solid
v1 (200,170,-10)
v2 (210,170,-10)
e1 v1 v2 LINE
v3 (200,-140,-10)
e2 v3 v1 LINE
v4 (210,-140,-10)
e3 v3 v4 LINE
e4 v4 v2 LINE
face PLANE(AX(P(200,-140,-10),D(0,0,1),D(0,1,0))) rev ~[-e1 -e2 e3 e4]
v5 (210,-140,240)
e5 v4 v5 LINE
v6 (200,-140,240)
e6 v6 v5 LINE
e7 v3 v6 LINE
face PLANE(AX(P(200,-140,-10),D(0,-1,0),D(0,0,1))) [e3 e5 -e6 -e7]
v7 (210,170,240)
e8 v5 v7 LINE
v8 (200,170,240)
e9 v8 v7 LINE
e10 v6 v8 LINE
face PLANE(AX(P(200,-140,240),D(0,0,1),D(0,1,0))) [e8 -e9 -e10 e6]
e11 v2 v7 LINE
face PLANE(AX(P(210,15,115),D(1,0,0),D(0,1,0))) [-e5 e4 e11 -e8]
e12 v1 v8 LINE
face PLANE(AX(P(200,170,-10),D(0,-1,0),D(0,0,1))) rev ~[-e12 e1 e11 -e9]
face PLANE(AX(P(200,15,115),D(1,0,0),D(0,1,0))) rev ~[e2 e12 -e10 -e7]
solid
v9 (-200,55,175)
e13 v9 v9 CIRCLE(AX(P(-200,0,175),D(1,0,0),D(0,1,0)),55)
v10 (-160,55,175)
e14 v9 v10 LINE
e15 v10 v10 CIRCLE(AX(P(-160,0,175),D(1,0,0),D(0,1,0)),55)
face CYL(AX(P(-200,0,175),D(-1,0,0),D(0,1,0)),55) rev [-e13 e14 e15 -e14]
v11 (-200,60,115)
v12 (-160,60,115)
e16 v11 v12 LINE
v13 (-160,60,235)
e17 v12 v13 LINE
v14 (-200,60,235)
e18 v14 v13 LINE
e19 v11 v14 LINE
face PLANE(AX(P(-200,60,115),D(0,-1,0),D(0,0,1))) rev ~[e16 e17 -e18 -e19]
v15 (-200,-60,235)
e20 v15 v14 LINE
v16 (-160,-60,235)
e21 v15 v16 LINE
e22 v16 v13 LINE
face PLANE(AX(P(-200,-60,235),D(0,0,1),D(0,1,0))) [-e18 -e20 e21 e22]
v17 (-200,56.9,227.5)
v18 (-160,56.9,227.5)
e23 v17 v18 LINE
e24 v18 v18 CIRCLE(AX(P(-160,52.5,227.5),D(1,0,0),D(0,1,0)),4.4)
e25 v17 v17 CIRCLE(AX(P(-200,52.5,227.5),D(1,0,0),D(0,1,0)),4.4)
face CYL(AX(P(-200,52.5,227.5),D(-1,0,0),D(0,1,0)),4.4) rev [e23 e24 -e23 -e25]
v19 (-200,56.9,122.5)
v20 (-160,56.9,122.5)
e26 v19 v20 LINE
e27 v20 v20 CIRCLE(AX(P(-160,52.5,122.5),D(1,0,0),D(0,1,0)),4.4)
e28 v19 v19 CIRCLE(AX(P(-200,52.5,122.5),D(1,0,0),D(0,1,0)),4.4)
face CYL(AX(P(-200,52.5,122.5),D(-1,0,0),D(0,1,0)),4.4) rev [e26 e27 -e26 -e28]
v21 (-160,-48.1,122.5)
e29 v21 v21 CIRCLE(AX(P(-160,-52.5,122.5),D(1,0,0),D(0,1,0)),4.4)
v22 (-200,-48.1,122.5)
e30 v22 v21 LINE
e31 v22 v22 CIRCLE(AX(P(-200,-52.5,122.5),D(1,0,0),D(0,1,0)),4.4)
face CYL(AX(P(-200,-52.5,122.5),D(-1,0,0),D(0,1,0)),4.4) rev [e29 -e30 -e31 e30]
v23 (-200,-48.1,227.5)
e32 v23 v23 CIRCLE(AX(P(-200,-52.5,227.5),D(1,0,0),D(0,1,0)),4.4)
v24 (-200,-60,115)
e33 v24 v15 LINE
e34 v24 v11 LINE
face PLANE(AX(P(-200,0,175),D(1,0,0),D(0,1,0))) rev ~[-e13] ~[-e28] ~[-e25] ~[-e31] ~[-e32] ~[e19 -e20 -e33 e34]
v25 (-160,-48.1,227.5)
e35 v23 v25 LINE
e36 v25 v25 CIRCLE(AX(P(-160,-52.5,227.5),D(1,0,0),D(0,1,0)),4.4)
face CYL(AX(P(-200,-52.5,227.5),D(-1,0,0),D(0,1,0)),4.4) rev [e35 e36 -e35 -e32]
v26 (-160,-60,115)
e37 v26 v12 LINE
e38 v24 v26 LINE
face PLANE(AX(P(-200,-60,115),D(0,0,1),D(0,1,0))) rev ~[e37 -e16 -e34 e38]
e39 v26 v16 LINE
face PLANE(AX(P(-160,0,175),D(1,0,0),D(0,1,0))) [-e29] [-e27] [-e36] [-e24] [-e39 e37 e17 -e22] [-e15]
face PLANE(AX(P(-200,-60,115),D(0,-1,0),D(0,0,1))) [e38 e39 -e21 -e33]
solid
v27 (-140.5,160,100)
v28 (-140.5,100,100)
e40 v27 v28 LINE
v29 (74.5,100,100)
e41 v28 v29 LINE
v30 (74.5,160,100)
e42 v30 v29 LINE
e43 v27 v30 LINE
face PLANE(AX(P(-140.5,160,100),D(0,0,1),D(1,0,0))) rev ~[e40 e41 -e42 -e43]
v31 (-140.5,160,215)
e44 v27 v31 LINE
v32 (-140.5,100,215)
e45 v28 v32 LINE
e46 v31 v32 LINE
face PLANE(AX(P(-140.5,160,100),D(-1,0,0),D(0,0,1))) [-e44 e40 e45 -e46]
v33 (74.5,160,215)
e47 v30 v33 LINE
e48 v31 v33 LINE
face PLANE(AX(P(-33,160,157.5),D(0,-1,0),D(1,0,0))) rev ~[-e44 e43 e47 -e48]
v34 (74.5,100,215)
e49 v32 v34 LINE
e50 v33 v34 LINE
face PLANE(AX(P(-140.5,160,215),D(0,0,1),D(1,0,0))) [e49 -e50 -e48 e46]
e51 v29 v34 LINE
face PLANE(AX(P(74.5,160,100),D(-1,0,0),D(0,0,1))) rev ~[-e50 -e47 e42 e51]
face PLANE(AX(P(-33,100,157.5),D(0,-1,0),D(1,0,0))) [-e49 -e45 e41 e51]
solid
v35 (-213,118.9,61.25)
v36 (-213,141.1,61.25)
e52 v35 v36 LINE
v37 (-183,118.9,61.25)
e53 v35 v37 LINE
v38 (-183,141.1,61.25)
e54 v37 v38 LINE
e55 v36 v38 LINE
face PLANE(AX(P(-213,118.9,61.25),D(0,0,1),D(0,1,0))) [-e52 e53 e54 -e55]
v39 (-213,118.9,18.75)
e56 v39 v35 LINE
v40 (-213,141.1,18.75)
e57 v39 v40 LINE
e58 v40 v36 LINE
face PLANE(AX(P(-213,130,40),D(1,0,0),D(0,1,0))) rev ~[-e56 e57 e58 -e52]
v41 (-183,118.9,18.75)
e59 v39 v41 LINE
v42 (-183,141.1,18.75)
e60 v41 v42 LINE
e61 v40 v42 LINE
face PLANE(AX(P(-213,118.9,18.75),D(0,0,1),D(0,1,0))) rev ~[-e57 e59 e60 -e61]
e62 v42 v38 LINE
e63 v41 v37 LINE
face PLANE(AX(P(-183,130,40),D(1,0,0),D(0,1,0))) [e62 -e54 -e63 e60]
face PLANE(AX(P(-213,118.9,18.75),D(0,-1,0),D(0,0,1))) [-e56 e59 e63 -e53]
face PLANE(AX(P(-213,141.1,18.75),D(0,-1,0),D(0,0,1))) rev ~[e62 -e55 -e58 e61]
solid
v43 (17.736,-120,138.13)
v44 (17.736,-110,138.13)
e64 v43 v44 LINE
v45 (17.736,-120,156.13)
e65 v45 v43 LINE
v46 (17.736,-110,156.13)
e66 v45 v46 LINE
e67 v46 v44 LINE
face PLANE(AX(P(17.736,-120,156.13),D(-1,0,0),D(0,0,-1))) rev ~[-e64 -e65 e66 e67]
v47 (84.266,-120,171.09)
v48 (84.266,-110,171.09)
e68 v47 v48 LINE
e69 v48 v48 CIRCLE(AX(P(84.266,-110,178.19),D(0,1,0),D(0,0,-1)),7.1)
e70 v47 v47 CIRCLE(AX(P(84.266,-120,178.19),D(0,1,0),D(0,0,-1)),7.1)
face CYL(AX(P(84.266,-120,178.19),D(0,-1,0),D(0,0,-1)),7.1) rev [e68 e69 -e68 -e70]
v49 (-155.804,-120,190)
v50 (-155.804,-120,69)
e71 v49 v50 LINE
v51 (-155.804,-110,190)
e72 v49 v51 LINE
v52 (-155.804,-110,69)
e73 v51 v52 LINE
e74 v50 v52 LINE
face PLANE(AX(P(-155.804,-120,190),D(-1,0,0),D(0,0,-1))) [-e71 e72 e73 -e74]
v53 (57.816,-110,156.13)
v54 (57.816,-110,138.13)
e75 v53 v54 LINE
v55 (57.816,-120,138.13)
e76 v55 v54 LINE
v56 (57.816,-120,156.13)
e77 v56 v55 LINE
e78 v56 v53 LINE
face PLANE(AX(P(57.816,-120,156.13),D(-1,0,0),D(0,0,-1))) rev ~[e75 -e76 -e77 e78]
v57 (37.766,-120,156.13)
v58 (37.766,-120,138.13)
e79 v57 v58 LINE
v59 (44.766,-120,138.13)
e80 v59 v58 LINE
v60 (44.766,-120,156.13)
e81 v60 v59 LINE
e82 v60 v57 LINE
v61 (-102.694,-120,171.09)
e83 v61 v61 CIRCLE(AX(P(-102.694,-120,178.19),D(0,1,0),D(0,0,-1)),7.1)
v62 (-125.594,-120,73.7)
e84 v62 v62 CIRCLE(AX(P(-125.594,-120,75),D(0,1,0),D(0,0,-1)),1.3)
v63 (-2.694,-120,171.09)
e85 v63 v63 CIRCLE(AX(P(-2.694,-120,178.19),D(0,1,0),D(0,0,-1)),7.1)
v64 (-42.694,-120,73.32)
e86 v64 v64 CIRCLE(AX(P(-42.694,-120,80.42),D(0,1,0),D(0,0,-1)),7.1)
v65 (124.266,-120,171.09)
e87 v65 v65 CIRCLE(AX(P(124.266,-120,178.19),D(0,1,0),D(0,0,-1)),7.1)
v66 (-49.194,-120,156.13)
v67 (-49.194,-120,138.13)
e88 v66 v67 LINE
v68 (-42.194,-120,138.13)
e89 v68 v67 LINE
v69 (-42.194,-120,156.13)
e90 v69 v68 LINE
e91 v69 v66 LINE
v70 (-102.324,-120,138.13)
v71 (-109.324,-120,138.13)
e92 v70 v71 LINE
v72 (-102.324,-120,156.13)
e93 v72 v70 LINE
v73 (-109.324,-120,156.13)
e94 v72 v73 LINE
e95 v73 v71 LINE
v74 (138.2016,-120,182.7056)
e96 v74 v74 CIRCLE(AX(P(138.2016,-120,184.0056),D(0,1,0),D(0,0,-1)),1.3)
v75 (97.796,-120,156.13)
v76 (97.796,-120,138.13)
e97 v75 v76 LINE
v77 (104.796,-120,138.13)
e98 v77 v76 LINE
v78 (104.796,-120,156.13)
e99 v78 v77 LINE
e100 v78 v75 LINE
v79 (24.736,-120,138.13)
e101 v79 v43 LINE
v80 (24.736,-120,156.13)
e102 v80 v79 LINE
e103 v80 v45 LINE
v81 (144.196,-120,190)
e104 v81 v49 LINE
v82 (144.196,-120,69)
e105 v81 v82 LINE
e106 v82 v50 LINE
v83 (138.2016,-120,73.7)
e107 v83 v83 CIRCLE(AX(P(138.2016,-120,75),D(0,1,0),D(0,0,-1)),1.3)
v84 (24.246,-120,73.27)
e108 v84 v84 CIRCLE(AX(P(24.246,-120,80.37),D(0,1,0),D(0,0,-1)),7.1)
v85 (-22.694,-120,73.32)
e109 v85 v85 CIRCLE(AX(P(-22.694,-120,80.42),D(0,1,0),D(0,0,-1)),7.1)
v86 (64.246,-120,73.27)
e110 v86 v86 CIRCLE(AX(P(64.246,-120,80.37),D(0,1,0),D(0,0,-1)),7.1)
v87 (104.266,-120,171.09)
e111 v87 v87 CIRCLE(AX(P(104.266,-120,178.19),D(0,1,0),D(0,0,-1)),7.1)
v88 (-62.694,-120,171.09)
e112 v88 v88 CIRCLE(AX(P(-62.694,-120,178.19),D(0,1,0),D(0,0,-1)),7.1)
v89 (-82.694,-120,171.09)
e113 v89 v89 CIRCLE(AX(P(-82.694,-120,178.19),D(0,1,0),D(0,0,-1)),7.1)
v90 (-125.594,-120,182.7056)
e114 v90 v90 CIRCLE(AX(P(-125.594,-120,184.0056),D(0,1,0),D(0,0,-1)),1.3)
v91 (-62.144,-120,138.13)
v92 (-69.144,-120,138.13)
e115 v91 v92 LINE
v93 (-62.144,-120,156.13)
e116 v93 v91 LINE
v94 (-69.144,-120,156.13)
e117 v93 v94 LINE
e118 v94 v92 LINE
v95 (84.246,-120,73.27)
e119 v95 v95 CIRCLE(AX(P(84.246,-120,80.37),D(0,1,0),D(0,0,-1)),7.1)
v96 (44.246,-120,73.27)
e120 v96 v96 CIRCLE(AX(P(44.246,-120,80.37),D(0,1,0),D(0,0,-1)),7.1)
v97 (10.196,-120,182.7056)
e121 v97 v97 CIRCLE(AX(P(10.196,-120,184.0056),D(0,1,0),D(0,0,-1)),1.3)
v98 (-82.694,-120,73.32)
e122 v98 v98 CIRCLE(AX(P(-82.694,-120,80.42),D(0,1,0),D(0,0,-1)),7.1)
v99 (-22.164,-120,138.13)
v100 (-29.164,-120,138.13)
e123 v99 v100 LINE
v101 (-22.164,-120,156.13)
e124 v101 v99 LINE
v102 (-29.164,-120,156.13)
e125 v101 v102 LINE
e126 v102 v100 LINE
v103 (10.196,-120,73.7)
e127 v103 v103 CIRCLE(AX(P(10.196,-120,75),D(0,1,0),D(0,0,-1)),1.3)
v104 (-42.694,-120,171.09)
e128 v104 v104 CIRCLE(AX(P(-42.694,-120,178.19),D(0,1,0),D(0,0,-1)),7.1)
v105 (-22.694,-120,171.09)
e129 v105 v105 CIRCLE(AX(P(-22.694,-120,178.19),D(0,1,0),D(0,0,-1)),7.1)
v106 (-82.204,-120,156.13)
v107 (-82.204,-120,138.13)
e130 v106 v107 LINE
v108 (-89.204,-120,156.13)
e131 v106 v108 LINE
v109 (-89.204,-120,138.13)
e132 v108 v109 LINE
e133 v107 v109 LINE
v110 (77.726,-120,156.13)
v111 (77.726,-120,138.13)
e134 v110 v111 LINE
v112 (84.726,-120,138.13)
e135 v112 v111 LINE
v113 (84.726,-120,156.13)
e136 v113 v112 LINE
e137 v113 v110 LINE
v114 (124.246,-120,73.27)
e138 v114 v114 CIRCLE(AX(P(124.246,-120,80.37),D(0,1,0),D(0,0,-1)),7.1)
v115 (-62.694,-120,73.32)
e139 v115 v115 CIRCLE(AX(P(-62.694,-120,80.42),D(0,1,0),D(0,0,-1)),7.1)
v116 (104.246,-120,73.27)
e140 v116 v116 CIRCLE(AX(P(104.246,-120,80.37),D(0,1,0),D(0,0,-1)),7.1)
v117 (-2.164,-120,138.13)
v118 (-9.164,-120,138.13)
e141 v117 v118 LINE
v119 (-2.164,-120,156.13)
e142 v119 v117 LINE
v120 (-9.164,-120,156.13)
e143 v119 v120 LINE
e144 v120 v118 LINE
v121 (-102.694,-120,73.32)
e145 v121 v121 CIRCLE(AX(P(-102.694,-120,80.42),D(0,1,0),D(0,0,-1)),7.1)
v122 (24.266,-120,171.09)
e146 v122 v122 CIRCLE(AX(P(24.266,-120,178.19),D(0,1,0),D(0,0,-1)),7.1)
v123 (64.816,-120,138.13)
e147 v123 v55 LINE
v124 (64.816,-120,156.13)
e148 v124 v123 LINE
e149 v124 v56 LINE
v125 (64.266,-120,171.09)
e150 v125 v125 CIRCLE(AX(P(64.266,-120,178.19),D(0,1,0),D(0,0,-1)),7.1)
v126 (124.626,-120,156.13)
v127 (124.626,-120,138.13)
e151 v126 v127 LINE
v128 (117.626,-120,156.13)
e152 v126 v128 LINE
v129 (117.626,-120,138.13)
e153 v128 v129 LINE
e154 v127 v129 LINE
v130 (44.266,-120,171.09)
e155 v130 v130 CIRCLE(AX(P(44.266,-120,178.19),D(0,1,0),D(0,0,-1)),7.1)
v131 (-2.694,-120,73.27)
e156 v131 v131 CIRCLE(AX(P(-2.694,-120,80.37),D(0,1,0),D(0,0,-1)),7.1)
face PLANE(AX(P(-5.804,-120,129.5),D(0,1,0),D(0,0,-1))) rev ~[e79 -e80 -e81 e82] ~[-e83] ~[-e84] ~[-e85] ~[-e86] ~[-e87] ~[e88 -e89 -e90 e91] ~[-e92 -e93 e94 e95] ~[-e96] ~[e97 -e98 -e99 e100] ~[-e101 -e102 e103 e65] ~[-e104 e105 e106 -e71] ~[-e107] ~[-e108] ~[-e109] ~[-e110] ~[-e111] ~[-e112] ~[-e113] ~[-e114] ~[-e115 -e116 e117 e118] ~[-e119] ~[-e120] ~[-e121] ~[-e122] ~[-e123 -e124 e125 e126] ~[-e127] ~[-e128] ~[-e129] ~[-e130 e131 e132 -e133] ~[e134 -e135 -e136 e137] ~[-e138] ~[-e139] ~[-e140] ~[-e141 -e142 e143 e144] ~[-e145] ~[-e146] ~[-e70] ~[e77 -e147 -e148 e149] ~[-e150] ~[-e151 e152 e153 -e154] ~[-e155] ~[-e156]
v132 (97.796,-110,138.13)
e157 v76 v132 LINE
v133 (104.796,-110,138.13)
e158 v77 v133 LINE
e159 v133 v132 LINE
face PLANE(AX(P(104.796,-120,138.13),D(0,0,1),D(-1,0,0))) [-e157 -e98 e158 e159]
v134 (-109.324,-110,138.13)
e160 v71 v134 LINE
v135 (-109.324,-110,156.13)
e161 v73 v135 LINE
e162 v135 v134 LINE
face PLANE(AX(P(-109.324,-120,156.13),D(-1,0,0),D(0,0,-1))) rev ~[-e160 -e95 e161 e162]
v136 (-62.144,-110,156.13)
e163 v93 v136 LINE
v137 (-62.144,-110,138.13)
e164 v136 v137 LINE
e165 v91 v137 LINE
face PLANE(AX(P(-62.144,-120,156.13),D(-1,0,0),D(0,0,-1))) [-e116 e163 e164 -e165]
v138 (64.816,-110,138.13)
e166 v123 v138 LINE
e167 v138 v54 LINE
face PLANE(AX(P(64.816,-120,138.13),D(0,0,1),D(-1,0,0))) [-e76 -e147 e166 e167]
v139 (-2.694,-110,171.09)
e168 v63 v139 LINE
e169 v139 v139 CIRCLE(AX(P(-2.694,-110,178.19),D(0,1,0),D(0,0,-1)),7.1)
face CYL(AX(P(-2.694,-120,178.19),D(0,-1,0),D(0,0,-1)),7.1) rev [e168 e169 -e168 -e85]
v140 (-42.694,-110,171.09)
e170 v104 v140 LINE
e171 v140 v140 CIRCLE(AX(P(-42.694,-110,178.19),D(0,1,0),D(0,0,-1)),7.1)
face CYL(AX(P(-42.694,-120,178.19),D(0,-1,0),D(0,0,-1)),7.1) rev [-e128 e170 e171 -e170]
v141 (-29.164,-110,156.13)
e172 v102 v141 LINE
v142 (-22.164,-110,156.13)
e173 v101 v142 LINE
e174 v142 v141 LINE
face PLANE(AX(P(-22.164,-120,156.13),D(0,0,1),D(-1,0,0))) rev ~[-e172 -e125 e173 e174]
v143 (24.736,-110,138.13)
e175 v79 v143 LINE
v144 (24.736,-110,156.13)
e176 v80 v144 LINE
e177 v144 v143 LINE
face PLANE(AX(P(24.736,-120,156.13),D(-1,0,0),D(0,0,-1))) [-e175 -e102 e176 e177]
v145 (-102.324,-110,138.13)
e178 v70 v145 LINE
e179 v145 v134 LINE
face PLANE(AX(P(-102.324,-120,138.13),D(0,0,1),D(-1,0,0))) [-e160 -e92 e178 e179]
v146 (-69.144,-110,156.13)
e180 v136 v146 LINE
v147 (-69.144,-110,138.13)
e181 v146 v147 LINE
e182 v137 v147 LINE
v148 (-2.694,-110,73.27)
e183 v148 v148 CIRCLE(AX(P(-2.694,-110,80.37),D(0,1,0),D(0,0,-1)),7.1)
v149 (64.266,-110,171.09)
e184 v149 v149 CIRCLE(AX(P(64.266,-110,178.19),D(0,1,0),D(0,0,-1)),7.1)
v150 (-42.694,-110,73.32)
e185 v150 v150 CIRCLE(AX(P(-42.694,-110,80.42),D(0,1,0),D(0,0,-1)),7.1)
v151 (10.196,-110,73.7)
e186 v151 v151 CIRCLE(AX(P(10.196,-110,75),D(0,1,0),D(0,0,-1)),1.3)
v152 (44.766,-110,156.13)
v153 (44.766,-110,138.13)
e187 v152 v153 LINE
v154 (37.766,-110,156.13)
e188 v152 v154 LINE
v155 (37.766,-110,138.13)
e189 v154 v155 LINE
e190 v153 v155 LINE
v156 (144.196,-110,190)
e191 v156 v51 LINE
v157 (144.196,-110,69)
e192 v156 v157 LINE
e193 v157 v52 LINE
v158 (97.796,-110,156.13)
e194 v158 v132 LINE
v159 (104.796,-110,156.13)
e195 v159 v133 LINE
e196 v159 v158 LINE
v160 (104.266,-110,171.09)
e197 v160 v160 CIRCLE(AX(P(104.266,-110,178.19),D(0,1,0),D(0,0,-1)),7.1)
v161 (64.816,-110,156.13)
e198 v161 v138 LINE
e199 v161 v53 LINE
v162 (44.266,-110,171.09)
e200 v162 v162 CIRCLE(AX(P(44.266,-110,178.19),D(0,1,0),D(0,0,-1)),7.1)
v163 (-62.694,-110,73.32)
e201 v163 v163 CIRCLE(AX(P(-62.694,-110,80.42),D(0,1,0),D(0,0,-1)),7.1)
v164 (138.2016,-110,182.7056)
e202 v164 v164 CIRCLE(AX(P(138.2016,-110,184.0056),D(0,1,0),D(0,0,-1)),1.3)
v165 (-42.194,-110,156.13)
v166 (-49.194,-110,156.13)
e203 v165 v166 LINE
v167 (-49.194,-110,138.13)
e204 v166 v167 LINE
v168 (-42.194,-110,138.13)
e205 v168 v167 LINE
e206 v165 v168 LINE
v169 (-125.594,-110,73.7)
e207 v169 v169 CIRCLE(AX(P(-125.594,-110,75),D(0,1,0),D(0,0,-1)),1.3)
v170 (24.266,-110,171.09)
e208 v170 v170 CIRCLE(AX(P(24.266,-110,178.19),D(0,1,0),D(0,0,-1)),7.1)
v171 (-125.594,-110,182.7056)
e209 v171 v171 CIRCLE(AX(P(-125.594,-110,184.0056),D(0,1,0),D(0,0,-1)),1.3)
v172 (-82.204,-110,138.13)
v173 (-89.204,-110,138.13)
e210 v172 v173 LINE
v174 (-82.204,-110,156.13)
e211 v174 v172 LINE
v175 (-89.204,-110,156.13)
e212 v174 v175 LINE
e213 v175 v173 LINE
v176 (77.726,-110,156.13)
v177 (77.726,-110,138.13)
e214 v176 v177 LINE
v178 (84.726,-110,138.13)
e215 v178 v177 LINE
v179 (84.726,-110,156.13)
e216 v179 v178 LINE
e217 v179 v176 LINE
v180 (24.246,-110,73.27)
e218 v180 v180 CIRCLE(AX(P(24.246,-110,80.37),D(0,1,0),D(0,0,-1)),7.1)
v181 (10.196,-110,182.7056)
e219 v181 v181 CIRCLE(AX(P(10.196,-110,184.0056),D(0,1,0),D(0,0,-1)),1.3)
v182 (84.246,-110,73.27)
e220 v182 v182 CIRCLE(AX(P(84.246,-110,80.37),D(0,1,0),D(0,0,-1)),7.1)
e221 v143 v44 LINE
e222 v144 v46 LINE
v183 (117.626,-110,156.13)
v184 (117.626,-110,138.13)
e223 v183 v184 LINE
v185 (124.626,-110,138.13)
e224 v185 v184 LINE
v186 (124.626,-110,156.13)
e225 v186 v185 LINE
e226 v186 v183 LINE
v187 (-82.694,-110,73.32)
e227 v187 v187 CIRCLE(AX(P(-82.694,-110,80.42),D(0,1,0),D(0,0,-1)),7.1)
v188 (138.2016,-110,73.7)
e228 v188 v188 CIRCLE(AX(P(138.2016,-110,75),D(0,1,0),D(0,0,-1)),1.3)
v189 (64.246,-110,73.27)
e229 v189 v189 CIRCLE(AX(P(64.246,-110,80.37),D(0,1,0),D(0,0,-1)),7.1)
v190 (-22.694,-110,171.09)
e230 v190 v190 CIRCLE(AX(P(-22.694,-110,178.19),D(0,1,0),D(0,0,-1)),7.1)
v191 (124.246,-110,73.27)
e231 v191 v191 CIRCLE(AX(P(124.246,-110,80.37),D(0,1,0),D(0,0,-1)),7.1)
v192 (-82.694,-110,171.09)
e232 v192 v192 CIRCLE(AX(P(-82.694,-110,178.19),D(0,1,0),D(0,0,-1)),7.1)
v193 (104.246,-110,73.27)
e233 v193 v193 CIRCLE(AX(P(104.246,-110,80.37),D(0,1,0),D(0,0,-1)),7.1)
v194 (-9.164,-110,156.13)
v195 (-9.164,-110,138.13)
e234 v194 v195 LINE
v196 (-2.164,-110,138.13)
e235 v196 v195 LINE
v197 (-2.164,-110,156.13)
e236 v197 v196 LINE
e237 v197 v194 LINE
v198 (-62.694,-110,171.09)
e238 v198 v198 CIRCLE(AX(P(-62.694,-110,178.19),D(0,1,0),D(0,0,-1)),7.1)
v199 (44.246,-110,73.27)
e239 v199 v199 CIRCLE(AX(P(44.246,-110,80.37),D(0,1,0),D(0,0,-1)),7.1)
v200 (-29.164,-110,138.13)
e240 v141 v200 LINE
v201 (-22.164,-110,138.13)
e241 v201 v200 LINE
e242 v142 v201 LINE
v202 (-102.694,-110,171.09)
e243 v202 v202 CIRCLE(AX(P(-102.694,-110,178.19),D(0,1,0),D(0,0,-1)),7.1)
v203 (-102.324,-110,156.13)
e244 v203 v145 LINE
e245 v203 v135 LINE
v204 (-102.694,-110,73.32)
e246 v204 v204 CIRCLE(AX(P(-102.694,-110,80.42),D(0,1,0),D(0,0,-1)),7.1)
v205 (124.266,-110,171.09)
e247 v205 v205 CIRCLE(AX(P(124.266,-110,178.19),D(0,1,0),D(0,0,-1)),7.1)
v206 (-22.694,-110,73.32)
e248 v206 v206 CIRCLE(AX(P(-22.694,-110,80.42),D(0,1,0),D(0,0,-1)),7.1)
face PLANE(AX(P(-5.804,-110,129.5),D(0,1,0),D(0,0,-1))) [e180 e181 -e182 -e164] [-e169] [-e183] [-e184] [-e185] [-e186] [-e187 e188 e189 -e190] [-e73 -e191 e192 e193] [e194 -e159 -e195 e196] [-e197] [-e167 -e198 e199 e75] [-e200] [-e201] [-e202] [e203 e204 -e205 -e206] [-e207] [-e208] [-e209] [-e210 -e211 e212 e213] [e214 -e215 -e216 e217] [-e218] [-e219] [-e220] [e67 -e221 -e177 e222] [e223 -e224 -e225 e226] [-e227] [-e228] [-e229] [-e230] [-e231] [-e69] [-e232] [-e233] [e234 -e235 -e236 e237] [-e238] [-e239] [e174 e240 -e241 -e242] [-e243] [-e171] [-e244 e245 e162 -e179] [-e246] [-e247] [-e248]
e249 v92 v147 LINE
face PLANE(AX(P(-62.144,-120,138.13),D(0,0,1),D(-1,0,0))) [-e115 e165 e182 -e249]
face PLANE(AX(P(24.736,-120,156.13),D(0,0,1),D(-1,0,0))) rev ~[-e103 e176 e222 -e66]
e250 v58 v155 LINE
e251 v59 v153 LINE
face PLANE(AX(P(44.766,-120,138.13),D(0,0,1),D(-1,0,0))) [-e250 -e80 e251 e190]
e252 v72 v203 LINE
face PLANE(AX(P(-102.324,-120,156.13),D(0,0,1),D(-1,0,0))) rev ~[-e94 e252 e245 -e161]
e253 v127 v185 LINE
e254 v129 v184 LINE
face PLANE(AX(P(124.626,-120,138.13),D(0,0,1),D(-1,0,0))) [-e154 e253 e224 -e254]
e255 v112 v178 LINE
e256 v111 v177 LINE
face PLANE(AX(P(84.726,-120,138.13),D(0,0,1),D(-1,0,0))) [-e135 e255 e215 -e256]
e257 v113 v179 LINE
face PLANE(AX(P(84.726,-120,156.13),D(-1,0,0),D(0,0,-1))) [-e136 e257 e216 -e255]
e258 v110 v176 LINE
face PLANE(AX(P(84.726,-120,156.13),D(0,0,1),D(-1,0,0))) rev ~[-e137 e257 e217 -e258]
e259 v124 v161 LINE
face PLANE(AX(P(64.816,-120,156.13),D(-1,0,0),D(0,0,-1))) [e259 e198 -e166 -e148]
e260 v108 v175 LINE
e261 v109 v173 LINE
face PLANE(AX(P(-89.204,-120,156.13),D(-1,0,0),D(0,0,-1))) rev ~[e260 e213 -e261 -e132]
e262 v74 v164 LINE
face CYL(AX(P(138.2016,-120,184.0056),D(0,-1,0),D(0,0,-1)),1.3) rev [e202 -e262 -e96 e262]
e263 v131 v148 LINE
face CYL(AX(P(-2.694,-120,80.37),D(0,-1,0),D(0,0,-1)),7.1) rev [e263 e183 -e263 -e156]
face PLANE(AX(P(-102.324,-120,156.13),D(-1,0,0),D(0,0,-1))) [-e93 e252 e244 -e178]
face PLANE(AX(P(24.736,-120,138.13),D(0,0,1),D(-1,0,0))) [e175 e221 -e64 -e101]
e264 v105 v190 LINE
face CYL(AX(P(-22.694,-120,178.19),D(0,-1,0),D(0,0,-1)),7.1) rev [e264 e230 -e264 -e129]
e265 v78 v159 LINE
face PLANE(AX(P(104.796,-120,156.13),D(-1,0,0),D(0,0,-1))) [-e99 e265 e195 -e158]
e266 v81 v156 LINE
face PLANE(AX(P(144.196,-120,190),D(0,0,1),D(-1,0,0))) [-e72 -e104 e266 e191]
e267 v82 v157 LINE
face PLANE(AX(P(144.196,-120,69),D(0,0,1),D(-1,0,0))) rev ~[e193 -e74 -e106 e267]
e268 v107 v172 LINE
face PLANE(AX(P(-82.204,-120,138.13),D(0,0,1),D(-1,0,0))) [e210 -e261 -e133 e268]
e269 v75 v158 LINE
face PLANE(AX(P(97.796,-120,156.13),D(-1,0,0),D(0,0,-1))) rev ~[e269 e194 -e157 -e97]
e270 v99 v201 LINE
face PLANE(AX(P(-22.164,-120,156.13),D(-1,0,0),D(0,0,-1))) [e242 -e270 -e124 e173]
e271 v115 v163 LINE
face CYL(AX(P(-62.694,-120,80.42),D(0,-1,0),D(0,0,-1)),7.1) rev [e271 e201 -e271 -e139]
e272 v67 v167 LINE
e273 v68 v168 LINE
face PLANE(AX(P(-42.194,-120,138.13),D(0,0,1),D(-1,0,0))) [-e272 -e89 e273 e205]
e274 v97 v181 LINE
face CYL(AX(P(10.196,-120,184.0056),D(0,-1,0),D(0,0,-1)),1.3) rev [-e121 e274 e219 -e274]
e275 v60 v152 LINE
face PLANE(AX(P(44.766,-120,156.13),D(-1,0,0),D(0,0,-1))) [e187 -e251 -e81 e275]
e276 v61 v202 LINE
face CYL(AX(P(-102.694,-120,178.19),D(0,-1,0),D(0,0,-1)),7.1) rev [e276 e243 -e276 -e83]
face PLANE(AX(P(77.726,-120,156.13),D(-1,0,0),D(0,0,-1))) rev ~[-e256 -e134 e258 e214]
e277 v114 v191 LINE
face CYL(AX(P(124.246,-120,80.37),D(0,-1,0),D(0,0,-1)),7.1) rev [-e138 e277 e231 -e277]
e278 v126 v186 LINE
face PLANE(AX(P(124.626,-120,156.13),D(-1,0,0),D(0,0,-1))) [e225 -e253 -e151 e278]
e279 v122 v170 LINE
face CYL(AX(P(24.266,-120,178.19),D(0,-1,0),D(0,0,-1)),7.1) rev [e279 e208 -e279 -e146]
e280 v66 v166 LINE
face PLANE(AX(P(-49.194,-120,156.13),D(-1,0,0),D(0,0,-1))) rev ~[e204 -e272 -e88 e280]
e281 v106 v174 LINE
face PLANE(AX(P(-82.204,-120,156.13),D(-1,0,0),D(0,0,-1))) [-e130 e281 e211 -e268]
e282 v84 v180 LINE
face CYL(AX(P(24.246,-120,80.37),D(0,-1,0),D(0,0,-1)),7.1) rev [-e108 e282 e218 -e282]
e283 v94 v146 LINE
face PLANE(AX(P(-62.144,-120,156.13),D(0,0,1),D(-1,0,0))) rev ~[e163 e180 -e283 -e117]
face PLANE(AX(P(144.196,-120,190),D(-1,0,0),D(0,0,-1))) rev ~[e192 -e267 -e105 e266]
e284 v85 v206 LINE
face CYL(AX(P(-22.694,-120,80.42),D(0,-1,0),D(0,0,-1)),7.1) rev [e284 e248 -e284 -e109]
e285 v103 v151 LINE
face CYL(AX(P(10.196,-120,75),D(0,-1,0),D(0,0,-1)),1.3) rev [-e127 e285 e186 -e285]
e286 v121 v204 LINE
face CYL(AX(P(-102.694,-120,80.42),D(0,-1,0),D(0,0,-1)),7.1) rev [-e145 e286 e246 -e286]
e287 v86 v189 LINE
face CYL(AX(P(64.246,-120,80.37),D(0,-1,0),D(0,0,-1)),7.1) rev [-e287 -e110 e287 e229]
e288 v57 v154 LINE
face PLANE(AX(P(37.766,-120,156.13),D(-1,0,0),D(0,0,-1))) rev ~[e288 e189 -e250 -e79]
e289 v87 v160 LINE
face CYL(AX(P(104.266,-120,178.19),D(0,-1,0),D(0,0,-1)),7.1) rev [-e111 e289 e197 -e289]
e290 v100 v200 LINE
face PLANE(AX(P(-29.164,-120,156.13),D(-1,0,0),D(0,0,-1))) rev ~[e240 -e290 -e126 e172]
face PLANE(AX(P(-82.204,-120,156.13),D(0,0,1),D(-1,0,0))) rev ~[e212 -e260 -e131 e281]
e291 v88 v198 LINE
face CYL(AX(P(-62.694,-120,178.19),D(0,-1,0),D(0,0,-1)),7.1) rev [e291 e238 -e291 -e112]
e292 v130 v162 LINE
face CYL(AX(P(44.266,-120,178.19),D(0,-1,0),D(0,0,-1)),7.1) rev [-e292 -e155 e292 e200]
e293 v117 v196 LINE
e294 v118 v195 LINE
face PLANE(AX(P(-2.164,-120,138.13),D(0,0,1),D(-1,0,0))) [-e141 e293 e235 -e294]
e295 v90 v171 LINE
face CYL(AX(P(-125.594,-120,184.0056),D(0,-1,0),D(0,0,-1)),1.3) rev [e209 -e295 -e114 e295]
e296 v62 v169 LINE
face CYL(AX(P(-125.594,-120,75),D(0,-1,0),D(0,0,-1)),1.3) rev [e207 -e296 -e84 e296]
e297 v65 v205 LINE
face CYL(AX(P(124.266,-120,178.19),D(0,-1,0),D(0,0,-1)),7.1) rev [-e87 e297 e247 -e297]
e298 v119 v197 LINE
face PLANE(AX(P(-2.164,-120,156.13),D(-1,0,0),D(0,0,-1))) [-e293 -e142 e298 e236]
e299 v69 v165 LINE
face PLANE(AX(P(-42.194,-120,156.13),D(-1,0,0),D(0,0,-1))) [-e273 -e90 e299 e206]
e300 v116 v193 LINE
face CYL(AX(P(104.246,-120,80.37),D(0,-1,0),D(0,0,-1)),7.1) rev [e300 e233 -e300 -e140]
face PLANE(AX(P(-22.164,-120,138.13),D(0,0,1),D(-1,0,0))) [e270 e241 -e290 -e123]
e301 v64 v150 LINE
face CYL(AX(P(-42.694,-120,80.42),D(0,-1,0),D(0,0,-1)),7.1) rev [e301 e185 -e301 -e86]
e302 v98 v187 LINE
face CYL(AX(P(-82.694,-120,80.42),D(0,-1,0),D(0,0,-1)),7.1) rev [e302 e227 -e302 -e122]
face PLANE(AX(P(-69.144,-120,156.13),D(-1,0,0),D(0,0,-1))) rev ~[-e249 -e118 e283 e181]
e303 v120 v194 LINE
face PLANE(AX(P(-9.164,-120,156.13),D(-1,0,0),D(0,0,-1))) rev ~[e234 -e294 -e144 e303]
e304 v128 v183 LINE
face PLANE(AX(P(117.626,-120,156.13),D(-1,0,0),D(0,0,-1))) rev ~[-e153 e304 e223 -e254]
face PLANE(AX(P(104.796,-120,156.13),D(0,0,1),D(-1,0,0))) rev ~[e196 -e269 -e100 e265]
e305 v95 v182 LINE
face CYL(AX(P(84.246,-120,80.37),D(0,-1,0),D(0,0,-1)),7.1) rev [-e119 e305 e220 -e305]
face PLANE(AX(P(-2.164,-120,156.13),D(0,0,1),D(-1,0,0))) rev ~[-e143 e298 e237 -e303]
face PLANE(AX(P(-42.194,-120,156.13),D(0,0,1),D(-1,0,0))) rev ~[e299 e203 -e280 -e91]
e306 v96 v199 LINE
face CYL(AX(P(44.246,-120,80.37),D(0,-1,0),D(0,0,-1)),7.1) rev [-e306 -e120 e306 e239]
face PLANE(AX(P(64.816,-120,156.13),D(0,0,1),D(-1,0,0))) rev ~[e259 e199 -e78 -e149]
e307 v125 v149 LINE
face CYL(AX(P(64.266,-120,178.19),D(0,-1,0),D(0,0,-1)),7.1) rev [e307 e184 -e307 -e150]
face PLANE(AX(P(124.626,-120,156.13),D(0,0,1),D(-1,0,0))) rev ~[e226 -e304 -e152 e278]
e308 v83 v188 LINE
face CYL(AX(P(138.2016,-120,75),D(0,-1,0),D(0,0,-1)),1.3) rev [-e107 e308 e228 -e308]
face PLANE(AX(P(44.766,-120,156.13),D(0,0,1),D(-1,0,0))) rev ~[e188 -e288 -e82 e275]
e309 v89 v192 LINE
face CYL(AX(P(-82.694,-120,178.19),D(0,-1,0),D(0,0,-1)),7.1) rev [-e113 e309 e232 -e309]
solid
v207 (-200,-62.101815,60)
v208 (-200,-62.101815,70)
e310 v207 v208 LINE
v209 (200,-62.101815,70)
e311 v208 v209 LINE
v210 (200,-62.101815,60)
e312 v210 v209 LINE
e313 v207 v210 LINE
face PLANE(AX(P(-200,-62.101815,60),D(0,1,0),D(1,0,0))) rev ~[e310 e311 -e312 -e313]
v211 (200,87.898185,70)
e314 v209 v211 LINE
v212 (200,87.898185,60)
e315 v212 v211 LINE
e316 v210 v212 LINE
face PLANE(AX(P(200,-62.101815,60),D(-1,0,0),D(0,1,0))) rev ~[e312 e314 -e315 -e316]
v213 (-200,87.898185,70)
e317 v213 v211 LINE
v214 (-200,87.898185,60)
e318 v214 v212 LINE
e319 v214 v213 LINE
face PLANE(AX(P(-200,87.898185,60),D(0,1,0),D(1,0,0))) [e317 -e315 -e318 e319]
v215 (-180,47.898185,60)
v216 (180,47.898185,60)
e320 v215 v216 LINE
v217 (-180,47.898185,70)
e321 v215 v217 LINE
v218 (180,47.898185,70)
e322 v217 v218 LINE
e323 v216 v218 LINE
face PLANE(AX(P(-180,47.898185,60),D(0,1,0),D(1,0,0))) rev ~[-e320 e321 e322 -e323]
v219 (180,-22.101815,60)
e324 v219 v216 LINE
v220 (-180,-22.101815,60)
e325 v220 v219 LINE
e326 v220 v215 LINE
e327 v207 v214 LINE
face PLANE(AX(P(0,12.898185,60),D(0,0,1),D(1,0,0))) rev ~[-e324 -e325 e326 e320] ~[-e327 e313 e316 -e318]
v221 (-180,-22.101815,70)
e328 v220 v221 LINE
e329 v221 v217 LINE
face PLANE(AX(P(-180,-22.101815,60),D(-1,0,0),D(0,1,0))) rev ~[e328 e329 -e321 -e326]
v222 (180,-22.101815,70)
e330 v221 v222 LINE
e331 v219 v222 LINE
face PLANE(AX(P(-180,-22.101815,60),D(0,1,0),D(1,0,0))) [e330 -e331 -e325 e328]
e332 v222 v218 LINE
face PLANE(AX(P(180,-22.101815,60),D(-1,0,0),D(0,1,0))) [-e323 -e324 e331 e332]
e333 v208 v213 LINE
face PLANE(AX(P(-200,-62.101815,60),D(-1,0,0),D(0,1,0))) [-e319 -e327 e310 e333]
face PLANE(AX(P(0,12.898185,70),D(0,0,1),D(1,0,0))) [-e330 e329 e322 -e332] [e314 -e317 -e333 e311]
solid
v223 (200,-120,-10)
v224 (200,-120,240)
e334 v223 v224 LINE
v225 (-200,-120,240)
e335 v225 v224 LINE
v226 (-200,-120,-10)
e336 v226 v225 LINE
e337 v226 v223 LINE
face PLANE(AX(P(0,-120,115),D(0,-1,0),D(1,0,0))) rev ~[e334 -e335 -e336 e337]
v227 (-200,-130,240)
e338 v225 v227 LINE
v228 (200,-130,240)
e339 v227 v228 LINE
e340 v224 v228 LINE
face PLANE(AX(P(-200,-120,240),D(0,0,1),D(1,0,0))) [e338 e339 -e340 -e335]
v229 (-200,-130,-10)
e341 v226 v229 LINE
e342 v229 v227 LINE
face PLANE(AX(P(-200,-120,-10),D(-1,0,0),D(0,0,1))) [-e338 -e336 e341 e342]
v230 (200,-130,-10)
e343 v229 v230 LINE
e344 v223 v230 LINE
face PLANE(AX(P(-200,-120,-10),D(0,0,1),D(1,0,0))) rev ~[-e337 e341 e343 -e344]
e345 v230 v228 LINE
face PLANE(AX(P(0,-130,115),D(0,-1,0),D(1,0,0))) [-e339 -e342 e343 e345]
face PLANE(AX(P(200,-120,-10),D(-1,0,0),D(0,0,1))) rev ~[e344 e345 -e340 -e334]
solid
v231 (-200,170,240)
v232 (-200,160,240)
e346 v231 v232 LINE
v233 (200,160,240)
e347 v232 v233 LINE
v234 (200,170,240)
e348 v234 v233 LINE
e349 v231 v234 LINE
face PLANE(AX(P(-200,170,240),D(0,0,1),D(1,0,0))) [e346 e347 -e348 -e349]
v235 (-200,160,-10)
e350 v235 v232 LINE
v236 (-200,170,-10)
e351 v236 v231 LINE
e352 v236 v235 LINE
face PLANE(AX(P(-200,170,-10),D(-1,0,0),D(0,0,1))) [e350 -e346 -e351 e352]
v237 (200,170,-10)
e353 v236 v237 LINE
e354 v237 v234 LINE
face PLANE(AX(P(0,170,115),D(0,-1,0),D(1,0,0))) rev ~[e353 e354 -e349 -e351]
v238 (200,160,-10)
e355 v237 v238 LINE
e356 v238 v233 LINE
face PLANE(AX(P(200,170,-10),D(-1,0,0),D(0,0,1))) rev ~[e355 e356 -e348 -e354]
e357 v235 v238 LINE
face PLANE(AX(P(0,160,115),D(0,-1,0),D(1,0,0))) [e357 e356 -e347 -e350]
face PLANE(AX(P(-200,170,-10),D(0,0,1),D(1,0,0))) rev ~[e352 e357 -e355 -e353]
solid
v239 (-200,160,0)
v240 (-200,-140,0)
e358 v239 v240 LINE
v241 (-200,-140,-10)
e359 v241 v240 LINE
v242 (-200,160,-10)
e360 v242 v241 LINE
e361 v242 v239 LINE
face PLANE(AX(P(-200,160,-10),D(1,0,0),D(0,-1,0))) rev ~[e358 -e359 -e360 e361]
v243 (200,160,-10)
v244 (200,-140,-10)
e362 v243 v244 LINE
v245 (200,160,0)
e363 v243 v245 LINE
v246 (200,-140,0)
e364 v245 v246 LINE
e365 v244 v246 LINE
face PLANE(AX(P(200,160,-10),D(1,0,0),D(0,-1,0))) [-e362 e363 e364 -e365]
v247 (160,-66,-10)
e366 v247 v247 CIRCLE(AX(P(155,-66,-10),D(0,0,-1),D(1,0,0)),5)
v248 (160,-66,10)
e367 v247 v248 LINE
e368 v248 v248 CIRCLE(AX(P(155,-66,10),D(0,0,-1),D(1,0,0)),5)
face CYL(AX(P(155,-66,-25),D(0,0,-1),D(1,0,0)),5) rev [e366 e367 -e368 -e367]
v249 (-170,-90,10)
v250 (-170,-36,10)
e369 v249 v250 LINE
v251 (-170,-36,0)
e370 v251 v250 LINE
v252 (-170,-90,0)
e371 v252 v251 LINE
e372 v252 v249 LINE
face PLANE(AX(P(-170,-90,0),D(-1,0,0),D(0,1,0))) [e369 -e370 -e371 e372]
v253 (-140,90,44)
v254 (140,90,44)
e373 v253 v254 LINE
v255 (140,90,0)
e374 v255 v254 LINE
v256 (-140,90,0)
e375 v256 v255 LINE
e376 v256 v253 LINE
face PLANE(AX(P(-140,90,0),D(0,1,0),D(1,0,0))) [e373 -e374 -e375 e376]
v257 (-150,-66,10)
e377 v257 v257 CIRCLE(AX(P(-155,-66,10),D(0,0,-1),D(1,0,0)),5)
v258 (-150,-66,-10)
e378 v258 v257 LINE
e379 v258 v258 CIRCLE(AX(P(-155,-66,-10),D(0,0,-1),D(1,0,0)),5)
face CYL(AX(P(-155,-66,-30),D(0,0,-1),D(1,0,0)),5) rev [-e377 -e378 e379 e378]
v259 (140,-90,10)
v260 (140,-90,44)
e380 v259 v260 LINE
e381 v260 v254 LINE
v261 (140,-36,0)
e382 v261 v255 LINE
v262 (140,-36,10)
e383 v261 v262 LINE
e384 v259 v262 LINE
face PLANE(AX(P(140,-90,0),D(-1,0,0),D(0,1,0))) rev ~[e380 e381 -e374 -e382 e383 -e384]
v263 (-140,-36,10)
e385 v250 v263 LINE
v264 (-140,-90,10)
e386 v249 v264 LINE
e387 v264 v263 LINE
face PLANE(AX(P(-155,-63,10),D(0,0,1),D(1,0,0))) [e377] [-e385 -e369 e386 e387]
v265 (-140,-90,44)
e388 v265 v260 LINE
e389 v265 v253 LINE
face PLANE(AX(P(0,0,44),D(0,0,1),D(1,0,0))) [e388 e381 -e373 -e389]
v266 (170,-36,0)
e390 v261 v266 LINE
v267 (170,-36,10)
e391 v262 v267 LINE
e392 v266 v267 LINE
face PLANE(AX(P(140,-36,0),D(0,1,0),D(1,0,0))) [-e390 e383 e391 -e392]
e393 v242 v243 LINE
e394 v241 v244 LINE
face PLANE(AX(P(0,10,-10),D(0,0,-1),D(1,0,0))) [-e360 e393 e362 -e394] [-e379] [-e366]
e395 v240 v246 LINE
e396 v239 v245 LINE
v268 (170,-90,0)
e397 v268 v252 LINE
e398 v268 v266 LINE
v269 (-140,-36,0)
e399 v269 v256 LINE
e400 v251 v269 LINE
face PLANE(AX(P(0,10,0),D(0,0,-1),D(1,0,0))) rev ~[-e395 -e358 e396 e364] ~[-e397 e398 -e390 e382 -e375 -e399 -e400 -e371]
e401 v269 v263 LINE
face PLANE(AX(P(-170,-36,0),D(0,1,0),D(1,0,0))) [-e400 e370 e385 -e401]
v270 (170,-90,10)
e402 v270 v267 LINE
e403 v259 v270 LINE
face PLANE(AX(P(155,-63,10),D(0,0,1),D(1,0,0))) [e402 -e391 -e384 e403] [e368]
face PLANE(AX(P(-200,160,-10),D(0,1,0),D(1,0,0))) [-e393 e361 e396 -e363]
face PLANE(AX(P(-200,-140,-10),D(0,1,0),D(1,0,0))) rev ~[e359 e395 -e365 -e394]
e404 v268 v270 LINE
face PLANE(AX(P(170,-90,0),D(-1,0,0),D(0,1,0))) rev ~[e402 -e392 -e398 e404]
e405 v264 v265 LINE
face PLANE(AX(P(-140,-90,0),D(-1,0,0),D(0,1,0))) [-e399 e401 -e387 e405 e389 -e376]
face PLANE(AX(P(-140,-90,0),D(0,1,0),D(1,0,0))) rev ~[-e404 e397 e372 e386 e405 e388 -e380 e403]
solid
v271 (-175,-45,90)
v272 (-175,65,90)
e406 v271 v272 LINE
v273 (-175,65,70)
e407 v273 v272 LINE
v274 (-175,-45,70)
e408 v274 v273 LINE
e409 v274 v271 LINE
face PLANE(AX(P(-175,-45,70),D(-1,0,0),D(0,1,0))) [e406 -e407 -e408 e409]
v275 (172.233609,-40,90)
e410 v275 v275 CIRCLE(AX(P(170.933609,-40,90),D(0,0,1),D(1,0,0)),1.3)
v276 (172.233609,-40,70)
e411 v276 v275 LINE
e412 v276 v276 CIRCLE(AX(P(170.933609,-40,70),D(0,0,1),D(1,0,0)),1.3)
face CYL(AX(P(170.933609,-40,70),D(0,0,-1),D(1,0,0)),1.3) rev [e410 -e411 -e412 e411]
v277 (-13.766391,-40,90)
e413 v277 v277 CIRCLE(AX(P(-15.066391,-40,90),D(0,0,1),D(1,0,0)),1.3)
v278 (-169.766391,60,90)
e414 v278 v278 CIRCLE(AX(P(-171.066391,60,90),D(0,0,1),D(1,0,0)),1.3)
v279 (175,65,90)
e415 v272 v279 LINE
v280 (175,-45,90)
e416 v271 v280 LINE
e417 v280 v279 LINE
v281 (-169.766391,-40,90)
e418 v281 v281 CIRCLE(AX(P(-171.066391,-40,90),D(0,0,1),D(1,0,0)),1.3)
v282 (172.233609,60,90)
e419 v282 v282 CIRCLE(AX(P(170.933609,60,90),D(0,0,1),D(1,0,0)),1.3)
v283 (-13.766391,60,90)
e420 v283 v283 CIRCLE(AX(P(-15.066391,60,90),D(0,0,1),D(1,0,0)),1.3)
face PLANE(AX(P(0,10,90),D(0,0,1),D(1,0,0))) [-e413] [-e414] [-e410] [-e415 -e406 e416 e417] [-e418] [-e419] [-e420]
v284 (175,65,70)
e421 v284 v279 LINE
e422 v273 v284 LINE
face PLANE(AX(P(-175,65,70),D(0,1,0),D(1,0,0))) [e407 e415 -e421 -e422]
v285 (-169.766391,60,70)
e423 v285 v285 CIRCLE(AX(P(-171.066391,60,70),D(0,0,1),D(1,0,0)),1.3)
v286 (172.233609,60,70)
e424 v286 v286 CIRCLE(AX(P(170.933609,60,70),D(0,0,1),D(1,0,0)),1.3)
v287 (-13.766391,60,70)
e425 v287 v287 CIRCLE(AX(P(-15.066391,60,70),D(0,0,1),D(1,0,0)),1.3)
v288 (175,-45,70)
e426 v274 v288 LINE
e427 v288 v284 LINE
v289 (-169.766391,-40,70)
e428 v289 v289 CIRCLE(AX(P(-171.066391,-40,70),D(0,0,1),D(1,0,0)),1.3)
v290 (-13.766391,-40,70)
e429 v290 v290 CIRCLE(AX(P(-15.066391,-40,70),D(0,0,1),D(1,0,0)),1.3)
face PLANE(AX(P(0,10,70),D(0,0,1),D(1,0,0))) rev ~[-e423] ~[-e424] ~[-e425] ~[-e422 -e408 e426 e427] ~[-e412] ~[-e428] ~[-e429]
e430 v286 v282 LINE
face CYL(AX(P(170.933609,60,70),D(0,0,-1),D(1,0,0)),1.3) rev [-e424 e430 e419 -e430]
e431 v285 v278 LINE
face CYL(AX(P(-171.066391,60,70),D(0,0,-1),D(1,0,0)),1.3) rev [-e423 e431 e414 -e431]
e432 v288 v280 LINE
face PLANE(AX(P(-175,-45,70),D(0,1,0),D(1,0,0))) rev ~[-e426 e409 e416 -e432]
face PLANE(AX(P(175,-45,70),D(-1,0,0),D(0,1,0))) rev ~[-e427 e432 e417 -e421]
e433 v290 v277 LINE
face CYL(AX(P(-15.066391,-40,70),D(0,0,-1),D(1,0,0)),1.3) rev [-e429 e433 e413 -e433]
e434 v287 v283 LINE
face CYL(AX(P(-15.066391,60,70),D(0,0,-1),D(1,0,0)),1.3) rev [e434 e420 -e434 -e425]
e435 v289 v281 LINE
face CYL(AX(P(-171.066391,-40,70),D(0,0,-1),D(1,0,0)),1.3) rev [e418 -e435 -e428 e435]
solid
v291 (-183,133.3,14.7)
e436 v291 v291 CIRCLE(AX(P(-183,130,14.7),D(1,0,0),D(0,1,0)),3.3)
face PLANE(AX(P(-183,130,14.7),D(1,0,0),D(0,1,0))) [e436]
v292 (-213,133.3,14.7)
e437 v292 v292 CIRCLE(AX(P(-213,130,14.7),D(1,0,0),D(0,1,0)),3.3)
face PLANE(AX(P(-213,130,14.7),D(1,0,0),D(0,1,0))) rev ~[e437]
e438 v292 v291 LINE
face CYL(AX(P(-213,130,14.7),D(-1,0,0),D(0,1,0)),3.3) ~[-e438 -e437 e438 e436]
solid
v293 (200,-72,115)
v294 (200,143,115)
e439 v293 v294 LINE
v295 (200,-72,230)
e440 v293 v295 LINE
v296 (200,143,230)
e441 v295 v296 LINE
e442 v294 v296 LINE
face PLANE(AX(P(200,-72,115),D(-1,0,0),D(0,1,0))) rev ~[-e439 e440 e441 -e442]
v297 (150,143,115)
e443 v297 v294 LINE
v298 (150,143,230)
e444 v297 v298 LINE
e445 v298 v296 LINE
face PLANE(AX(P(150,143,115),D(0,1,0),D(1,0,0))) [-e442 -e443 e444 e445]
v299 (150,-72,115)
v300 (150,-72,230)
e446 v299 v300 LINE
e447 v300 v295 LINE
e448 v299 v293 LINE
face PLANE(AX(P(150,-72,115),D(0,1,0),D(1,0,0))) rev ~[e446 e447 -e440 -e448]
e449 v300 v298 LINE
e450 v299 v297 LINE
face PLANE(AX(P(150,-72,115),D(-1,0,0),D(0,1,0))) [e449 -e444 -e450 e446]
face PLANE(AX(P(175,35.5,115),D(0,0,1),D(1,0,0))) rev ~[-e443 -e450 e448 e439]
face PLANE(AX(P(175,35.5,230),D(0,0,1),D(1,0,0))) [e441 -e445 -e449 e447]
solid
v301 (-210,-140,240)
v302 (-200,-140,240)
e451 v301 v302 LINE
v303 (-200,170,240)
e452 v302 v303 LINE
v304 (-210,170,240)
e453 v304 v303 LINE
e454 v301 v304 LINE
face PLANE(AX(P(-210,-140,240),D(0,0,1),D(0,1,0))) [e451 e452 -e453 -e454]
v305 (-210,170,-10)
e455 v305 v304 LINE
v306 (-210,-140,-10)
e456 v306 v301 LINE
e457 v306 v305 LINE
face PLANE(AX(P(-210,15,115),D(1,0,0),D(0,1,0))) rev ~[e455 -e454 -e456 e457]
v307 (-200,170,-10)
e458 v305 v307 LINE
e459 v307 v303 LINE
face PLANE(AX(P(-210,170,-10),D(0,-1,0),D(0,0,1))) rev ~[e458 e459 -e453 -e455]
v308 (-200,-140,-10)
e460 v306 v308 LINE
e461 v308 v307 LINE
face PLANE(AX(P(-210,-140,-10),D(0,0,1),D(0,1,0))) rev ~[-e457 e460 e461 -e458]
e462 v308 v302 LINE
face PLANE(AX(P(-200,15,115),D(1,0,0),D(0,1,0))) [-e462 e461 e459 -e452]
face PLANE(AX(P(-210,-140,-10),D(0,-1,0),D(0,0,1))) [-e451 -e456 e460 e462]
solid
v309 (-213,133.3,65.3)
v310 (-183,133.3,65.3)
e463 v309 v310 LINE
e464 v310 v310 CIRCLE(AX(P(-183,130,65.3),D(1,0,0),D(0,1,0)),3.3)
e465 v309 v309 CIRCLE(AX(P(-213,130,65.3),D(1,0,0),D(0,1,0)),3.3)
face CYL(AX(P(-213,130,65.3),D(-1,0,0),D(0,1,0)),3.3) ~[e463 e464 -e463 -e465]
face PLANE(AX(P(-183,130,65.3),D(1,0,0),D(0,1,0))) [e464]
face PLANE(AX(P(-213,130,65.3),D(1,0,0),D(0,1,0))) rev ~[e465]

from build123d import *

# Parameters (mm, degrees)
CYLINDER001_R     = 5
CYLINDER001_DEPTH = 50
CYLINDER_R        = 5
CYLINDER_DEPTH    = 50
SKETCH_W          = 280
SKETCH_H          = 180
PAD_DEPTH         = 44
SKETCH001_W       = 30
SKETCH001_H       = 54
PAD001_DEPTH      = 10
SKETCH002_W       = 400
SKETCH002_H       = 300
PAD002_DEPTH      = 10
SKETCH003_W       = 400
SKETCH003_H       = 250
PAD003_DEPTH      = 10
SKETCH004_W       = 215
SKETCH004_H       = 115
PAD004_DEPTH      = 60
SKETCH005_W       = 310
SKETCH005_H       = 250
PAD005_DEPTH      = 10
SKETCH006_W       = 310
SKETCH006_H       = 250
PAD006_DEPTH      = 10
SKETCH007_W       = 400
SKETCH007_H       = 250
PAD007_DEPTH      = 10
BOX_W             = 50
BOX_H             = 215
BOX_DEPTH         = 115
SKETCH009_W       = 121
SKETCH009_H       = 300
SKETCH009_R       = 7.1
SKETCH009_R_2     = 1.3
SKETCH009_W_2     = 18
SKETCH009_H_2     = 7
PAD009_DEPTH      = 10
SKETCH011_W       = 120
SKETCH011_H       = 120
SKETCH011_R       = 4.4
SKETCH011_R_2     = 55
PAD011_DEPTH      = 40
SKETCH012_R       = 3.3
SKETCH012_W       = 22.2
SKETCH012_H       = 42.5
PAD012_DEPTH      = 30
SKETCH013_W       = 400
SKETCH013_H       = 150
SKETCH013_W_2     = 360
SKETCH013_H_2     = 70
PAD013_DEPTH      = 10
SKETCH014_W       = 350
SKETCH014_H       = 110
SKETCH014_R       = 1.3
PAD014_DEPTH      = 20


with BuildPart() as cylinder001:
    # Cylinder001 → Cylinder001 (new body)
    with BuildSketch(Plane(origin=(-155, -66, -30), x_dir=(1, 0, 0), z_dir=(0, 0, 1))):
        Circle(CYLINDER001_R)
    extrude(amount=CYLINDER001_DEPTH)


with BuildPart() as cylinder:
    # Cylinder → Cylinder (new body)
    with BuildSketch(Plane(origin=(155, -66, -25), x_dir=(1, 0, 0), z_dir=(0, 0, 1))):
        Circle(CYLINDER_R)
    extrude(amount=CYLINDER_DEPTH)


with BuildPart() as pad:
    # Sketch → Pad (new body)
    with BuildSketch(Plane.XY):
        Rectangle(SKETCH_W, SKETCH_H)
    extrude(amount=PAD_DEPTH)


with BuildPart() as fusion:
    # Sketch001 → Pad001 (new body)
    with BuildSketch(Plane.XY):
        with Locations((155, -63)):
            Rectangle(SKETCH001_W, SKETCH001_H)
        with Locations((-155, -63)):
            Rectangle(SKETCH001_W, SKETCH001_H)
    extrude(amount=PAD001_DEPTH)

    # Fusion: union Pad
    add(pad.part)


with BuildPart() as cut001:
    # Sketch002 → Pad002 (new body)
    with BuildSketch(Plane(origin=(0, 0, -10), x_dir=(1, 0, 0), z_dir=(0, 0, -1))):
        with Locations((0, -10)):
            Rectangle(SKETCH002_W, SKETCH002_H)
    extrude(amount=-PAD002_DEPTH)

    # Fusion001: union Fusion
    add(fusion.part)

    # Cut: cut Cylinder
    add(cylinder.part, mode=Mode.SUBTRACT)

    # Cut001: cut Cylinder001
    add(cylinder001.part, mode=Mode.SUBTRACT)


with BuildPart() as pad003:
    # Sketch003 → Pad003 (new body)
    with BuildSketch(Plane.XZ.offset(-170)):
        with Locations((0, 115)):
            Rectangle(SKETCH003_W, SKETCH003_H)
    extrude(amount=PAD003_DEPTH)


with BuildPart() as f_12v:
    # Sketch004 → Pad004 (new body)
    with BuildSketch(Plane(origin=(-33, 160, 50), x_dir=(1, 0, 0), z_dir=(0, -1, 0))):
        with Locations((0, 107.5)):
            Rectangle(SKETCH004_W, SKETCH004_H)
    extrude(amount=PAD004_DEPTH)


with BuildPart() as pad005:
    # Sketch005 → Pad005 (new body)
    with BuildSketch(Plane.YZ.offset(200)):
        with Locations((15, 115)):
            Rectangle(SKETCH005_W, SKETCH005_H)
    extrude(amount=PAD005_DEPTH)


with BuildPart() as pad006:
    # Sketch006 → Pad006 (new body)
    with BuildSketch(Plane.YZ.offset(-210)):
        with Locations((15, 115)):
            Rectangle(SKETCH006_W, SKETCH006_H)
    extrude(amount=PAD006_DEPTH)


with BuildPart() as pad007:
    # Sketch007 → Pad007 (new body)
    with BuildSketch(Plane.XZ.offset(120)):
        with Locations((0, 115)):
            Rectangle(SKETCH007_W, SKETCH007_H)
    extrude(amount=PAD007_DEPTH)


with BuildPart() as f_5v:
    # Box → Box (new body)
    with BuildSketch(Plane(origin=(150, -72, 115), x_dir=(1, 0, 0), z_dir=(0, 0, 1))):
        with Locations((25, 107.5)):
            Rectangle(BOX_W, BOX_H)
    extrude(amount=BOX_DEPTH)


with BuildPart() as pad009:
    # Sketch009 → Pad009 (new body)
    with BuildSketch(Plane(origin=(144.196, -120, 190), x_dir=(0, 0, -1), z_dir=(0, 1, 0))):
        with Locations((60.5, 150)):
            Rectangle(SKETCH009_W, SKETCH009_H)
        with Locations((11.81, 19.93)):
            Circle(SKETCH009_R, mode=Mode.SUBTRACT)
        with Locations((11.81, 39.93)):
            Circle(SKETCH009_R, mode=Mode.SUBTRACT)
        with Locations((11.81, 59.93)):
            Circle(SKETCH009_R, mode=Mode.SUBTRACT)
        with Locations((11.81, 79.93)):
            Circle(SKETCH009_R, mode=Mode.SUBTRACT)
        with Locations((11.81, 99.93)):
            Circle(SKETCH009_R, mode=Mode.SUBTRACT)
        with Locations((11.81, 119.93)):
            Circle(SKETCH009_R, mode=Mode.SUBTRACT)
        with Locations((11.81, 146.89)):
            Circle(SKETCH009_R, mode=Mode.SUBTRACT)
        with Locations((11.81, 166.89)):
            Circle(SKETCH009_R, mode=Mode.SUBTRACT)
        with Locations((11.81, 186.89)):
            Circle(SKETCH009_R, mode=Mode.SUBTRACT)
        with Locations((11.81, 246.89)):
            Circle(SKETCH009_R, mode=Mode.SUBTRACT)
        with Locations((109.58, 246.89)):
            Circle(SKETCH009_R, mode=Mode.SUBTRACT)
        with Locations((11.81, 226.89)):
            Circle(SKETCH009_R, mode=Mode.SUBTRACT)
        with Locations((11.81, 206.89)):
            Circle(SKETCH009_R, mode=Mode.SUBTRACT)
        with Locations((109.58, 186.89)):
            Circle(SKETCH009_R, mode=Mode.SUBTRACT)
        with Locations((109.58, 226.89)):
            Circle(SKETCH009_R, mode=Mode.SUBTRACT)
        with Locations((109.58, 206.89)):
            Circle(SKETCH009_R, mode=Mode.SUBTRACT)
        with Locations((109.58, 166.89)):
            Circle(SKETCH009_R, mode=Mode.SUBTRACT)
        with Locations((109.63, 146.89)):
            Circle(SKETCH009_R, mode=Mode.SUBTRACT)
        with Locations((109.63, 119.95)):
            Circle(SKETCH009_R, mode=Mode.SUBTRACT)
        with Locations((109.63, 99.95)):
            Circle(SKETCH009_R, mode=Mode.SUBTRACT)
        with Locations((109.63, 79.95)):
            Circle(SKETCH009_R, mode=Mode.SUBTRACT)
        with Locations((109.63, 59.95)):
            Circle(SKETCH009_R, mode=Mode.SUBTRACT)
        with Locations((109.63, 39.95)):
            Circle(SKETCH009_R, mode=Mode.SUBTRACT)
        with Locations((109.63, 19.95)):
            Circle(SKETCH009_R, mode=Mode.SUBTRACT)
        with Locations((5.9944, 5.9944)):
            Circle(SKETCH009_R_2, mode=Mode.SUBTRACT)
        with Locations((5.9944, 134)):
            Circle(SKETCH009_R_2, mode=Mode.SUBTRACT)
        with Locations((5.9944, 269.79)):
            Circle(SKETCH009_R_2, mode=Mode.SUBTRACT)
        with Locations((115, 269.79)):
            Circle(SKETCH009_R_2, mode=Mode.SUBTRACT)
        with Locations((115, 5.9944)):
            Circle(SKETCH009_R_2, mode=Mode.SUBTRACT)
        with Locations((115, 134)):
            Circle(SKETCH009_R_2, mode=Mode.SUBTRACT)
        with Locations((42.87, 23.07)):
            Rectangle(SKETCH009_W_2, SKETCH009_H_2, mode=Mode.SUBTRACT)
        with Locations((42.87, 62.97)):
            Rectangle(SKETCH009_W_2, SKETCH009_H_2, mode=Mode.SUBTRACT)
        with Locations((42.87, 82.88)):
            Rectangle(SKETCH009_W_2, SKETCH009_H_2, mode=Mode.SUBTRACT)
        with Locations((42.87, 42.9)):
            Rectangle(SKETCH009_W_2, SKETCH009_H_2, mode=Mode.SUBTRACT)
        with Locations((42.87, 149.86)):
            Rectangle(SKETCH009_W_2, SKETCH009_H_2, mode=Mode.SUBTRACT)
        with Locations((42.87, 122.96)):
            Rectangle(SKETCH009_W_2, SKETCH009_H_2, mode=Mode.SUBTRACT)
        with Locations((42.87, 102.93)):
            Rectangle(SKETCH009_W_2, SKETCH009_H_2, mode=Mode.SUBTRACT)
        with Locations((42.87, 169.86)):
            Rectangle(SKETCH009_W_2, SKETCH009_H_2, mode=Mode.SUBTRACT)
        with Locations((42.87, 209.84)):
            Rectangle(SKETCH009_W_2, SKETCH009_H_2, mode=Mode.SUBTRACT)
        with Locations((42.87, 189.89)):
            Rectangle(SKETCH009_W_2, SKETCH009_H_2, mode=Mode.SUBTRACT)
        with Locations((42.87, 250.02)):
            Rectangle(SKETCH009_W_2, SKETCH009_H_2, mode=Mode.SUBTRACT)
        with Locations((42.87, 229.9)):
            Rectangle(SKETCH009_W_2, SKETCH009_H_2, mode=Mode.SUBTRACT)
    extrude(amount=PAD009_DEPTH)


with BuildPart() as pad011:
    # Sketch011 → Pad011 (new body)
    with BuildSketch(Plane(origin=(-200, 0, 175), x_dir=(0, 1, 0), z_dir=(1, 0, 0))):
        Rectangle(SKETCH011_W, SKETCH011_H)
        with Locations((-52.5, 52.5)):
            Circle(SKETCH011_R, mode=Mode.SUBTRACT)
        with Locations((52.5, 52.5)):
            Circle(SKETCH011_R, mode=Mode.SUBTRACT)
        with Locations((-52.5, -52.5)):
            Circle(SKETCH011_R, mode=Mode.SUBTRACT)
        with Locations((52.5, -52.5)):
            Circle(SKETCH011_R, mode=Mode.SUBTRACT)
        Circle(SKETCH011_R_2, mode=Mode.SUBTRACT)
    extrude(amount=PAD011_DEPTH)


with BuildPart() as pad012:
    # Sketch012 → Pad012 (new body)
    with BuildSketch(Plane(origin=(-213, 130, 40), x_dir=(0, 1, 0), z_dir=(1, 0, 0))):
        with Locations((0, 25.3)):
            Circle(SKETCH012_R)
        with Locations((0, -25.3)):
            Circle(SKETCH012_R)
        Rectangle(SKETCH012_W, SKETCH012_H)
    extrude(amount=PAD012_DEPTH)


with BuildPart() as pad013:
    # Sketch013 → Pad013 (new body)
    with BuildSketch(Plane.XY.offset(60)):
        with Locations((0, 12.898185)):
            Rectangle(SKETCH013_W, SKETCH013_H)
        with Locations((0, 12.898185)):
            Rectangle(SKETCH013_W_2, SKETCH013_H_2, mode=Mode.SUBTRACT)
    extrude(amount=PAD013_DEPTH)


with BuildPart() as pad014:
    # Sketch014 → Pad014 (new body)
    with BuildSketch(Plane(origin=(0, 10, 70), x_dir=(1, 0, 0), z_dir=(0, 0, 1))):
        Rectangle(SKETCH014_W, SKETCH014_H)
        with Locations((170.933609, 50)):
            Circle(SKETCH014_R, mode=Mode.SUBTRACT)
        with Locations((170.933609, -50)):
            Circle(SKETCH014_R, mode=Mode.SUBTRACT)
        with Locations((-15.066391, 50)):
            Circle(SKETCH014_R, mode=Mode.SUBTRACT)
        with Locations((-15.066391, -50)):
            Circle(SKETCH014_R, mode=Mode.SUBTRACT)
        with Locations((-171.066391, -50)):
            Circle(SKETCH014_R, mode=Mode.SUBTRACT)
        with Locations((-171.066391, 50)):
            Circle(SKETCH014_R, mode=Mode.SUBTRACT)
    extrude(amount=PAD014_DEPTH)


solid = Compound([cut001.part, pad003.part, f_12v.part, pad005.part, pad006.part, pad007.part, f_5v.part, pad009.part, pad011.part, pad012.part, pad013.part, pad014.part])
